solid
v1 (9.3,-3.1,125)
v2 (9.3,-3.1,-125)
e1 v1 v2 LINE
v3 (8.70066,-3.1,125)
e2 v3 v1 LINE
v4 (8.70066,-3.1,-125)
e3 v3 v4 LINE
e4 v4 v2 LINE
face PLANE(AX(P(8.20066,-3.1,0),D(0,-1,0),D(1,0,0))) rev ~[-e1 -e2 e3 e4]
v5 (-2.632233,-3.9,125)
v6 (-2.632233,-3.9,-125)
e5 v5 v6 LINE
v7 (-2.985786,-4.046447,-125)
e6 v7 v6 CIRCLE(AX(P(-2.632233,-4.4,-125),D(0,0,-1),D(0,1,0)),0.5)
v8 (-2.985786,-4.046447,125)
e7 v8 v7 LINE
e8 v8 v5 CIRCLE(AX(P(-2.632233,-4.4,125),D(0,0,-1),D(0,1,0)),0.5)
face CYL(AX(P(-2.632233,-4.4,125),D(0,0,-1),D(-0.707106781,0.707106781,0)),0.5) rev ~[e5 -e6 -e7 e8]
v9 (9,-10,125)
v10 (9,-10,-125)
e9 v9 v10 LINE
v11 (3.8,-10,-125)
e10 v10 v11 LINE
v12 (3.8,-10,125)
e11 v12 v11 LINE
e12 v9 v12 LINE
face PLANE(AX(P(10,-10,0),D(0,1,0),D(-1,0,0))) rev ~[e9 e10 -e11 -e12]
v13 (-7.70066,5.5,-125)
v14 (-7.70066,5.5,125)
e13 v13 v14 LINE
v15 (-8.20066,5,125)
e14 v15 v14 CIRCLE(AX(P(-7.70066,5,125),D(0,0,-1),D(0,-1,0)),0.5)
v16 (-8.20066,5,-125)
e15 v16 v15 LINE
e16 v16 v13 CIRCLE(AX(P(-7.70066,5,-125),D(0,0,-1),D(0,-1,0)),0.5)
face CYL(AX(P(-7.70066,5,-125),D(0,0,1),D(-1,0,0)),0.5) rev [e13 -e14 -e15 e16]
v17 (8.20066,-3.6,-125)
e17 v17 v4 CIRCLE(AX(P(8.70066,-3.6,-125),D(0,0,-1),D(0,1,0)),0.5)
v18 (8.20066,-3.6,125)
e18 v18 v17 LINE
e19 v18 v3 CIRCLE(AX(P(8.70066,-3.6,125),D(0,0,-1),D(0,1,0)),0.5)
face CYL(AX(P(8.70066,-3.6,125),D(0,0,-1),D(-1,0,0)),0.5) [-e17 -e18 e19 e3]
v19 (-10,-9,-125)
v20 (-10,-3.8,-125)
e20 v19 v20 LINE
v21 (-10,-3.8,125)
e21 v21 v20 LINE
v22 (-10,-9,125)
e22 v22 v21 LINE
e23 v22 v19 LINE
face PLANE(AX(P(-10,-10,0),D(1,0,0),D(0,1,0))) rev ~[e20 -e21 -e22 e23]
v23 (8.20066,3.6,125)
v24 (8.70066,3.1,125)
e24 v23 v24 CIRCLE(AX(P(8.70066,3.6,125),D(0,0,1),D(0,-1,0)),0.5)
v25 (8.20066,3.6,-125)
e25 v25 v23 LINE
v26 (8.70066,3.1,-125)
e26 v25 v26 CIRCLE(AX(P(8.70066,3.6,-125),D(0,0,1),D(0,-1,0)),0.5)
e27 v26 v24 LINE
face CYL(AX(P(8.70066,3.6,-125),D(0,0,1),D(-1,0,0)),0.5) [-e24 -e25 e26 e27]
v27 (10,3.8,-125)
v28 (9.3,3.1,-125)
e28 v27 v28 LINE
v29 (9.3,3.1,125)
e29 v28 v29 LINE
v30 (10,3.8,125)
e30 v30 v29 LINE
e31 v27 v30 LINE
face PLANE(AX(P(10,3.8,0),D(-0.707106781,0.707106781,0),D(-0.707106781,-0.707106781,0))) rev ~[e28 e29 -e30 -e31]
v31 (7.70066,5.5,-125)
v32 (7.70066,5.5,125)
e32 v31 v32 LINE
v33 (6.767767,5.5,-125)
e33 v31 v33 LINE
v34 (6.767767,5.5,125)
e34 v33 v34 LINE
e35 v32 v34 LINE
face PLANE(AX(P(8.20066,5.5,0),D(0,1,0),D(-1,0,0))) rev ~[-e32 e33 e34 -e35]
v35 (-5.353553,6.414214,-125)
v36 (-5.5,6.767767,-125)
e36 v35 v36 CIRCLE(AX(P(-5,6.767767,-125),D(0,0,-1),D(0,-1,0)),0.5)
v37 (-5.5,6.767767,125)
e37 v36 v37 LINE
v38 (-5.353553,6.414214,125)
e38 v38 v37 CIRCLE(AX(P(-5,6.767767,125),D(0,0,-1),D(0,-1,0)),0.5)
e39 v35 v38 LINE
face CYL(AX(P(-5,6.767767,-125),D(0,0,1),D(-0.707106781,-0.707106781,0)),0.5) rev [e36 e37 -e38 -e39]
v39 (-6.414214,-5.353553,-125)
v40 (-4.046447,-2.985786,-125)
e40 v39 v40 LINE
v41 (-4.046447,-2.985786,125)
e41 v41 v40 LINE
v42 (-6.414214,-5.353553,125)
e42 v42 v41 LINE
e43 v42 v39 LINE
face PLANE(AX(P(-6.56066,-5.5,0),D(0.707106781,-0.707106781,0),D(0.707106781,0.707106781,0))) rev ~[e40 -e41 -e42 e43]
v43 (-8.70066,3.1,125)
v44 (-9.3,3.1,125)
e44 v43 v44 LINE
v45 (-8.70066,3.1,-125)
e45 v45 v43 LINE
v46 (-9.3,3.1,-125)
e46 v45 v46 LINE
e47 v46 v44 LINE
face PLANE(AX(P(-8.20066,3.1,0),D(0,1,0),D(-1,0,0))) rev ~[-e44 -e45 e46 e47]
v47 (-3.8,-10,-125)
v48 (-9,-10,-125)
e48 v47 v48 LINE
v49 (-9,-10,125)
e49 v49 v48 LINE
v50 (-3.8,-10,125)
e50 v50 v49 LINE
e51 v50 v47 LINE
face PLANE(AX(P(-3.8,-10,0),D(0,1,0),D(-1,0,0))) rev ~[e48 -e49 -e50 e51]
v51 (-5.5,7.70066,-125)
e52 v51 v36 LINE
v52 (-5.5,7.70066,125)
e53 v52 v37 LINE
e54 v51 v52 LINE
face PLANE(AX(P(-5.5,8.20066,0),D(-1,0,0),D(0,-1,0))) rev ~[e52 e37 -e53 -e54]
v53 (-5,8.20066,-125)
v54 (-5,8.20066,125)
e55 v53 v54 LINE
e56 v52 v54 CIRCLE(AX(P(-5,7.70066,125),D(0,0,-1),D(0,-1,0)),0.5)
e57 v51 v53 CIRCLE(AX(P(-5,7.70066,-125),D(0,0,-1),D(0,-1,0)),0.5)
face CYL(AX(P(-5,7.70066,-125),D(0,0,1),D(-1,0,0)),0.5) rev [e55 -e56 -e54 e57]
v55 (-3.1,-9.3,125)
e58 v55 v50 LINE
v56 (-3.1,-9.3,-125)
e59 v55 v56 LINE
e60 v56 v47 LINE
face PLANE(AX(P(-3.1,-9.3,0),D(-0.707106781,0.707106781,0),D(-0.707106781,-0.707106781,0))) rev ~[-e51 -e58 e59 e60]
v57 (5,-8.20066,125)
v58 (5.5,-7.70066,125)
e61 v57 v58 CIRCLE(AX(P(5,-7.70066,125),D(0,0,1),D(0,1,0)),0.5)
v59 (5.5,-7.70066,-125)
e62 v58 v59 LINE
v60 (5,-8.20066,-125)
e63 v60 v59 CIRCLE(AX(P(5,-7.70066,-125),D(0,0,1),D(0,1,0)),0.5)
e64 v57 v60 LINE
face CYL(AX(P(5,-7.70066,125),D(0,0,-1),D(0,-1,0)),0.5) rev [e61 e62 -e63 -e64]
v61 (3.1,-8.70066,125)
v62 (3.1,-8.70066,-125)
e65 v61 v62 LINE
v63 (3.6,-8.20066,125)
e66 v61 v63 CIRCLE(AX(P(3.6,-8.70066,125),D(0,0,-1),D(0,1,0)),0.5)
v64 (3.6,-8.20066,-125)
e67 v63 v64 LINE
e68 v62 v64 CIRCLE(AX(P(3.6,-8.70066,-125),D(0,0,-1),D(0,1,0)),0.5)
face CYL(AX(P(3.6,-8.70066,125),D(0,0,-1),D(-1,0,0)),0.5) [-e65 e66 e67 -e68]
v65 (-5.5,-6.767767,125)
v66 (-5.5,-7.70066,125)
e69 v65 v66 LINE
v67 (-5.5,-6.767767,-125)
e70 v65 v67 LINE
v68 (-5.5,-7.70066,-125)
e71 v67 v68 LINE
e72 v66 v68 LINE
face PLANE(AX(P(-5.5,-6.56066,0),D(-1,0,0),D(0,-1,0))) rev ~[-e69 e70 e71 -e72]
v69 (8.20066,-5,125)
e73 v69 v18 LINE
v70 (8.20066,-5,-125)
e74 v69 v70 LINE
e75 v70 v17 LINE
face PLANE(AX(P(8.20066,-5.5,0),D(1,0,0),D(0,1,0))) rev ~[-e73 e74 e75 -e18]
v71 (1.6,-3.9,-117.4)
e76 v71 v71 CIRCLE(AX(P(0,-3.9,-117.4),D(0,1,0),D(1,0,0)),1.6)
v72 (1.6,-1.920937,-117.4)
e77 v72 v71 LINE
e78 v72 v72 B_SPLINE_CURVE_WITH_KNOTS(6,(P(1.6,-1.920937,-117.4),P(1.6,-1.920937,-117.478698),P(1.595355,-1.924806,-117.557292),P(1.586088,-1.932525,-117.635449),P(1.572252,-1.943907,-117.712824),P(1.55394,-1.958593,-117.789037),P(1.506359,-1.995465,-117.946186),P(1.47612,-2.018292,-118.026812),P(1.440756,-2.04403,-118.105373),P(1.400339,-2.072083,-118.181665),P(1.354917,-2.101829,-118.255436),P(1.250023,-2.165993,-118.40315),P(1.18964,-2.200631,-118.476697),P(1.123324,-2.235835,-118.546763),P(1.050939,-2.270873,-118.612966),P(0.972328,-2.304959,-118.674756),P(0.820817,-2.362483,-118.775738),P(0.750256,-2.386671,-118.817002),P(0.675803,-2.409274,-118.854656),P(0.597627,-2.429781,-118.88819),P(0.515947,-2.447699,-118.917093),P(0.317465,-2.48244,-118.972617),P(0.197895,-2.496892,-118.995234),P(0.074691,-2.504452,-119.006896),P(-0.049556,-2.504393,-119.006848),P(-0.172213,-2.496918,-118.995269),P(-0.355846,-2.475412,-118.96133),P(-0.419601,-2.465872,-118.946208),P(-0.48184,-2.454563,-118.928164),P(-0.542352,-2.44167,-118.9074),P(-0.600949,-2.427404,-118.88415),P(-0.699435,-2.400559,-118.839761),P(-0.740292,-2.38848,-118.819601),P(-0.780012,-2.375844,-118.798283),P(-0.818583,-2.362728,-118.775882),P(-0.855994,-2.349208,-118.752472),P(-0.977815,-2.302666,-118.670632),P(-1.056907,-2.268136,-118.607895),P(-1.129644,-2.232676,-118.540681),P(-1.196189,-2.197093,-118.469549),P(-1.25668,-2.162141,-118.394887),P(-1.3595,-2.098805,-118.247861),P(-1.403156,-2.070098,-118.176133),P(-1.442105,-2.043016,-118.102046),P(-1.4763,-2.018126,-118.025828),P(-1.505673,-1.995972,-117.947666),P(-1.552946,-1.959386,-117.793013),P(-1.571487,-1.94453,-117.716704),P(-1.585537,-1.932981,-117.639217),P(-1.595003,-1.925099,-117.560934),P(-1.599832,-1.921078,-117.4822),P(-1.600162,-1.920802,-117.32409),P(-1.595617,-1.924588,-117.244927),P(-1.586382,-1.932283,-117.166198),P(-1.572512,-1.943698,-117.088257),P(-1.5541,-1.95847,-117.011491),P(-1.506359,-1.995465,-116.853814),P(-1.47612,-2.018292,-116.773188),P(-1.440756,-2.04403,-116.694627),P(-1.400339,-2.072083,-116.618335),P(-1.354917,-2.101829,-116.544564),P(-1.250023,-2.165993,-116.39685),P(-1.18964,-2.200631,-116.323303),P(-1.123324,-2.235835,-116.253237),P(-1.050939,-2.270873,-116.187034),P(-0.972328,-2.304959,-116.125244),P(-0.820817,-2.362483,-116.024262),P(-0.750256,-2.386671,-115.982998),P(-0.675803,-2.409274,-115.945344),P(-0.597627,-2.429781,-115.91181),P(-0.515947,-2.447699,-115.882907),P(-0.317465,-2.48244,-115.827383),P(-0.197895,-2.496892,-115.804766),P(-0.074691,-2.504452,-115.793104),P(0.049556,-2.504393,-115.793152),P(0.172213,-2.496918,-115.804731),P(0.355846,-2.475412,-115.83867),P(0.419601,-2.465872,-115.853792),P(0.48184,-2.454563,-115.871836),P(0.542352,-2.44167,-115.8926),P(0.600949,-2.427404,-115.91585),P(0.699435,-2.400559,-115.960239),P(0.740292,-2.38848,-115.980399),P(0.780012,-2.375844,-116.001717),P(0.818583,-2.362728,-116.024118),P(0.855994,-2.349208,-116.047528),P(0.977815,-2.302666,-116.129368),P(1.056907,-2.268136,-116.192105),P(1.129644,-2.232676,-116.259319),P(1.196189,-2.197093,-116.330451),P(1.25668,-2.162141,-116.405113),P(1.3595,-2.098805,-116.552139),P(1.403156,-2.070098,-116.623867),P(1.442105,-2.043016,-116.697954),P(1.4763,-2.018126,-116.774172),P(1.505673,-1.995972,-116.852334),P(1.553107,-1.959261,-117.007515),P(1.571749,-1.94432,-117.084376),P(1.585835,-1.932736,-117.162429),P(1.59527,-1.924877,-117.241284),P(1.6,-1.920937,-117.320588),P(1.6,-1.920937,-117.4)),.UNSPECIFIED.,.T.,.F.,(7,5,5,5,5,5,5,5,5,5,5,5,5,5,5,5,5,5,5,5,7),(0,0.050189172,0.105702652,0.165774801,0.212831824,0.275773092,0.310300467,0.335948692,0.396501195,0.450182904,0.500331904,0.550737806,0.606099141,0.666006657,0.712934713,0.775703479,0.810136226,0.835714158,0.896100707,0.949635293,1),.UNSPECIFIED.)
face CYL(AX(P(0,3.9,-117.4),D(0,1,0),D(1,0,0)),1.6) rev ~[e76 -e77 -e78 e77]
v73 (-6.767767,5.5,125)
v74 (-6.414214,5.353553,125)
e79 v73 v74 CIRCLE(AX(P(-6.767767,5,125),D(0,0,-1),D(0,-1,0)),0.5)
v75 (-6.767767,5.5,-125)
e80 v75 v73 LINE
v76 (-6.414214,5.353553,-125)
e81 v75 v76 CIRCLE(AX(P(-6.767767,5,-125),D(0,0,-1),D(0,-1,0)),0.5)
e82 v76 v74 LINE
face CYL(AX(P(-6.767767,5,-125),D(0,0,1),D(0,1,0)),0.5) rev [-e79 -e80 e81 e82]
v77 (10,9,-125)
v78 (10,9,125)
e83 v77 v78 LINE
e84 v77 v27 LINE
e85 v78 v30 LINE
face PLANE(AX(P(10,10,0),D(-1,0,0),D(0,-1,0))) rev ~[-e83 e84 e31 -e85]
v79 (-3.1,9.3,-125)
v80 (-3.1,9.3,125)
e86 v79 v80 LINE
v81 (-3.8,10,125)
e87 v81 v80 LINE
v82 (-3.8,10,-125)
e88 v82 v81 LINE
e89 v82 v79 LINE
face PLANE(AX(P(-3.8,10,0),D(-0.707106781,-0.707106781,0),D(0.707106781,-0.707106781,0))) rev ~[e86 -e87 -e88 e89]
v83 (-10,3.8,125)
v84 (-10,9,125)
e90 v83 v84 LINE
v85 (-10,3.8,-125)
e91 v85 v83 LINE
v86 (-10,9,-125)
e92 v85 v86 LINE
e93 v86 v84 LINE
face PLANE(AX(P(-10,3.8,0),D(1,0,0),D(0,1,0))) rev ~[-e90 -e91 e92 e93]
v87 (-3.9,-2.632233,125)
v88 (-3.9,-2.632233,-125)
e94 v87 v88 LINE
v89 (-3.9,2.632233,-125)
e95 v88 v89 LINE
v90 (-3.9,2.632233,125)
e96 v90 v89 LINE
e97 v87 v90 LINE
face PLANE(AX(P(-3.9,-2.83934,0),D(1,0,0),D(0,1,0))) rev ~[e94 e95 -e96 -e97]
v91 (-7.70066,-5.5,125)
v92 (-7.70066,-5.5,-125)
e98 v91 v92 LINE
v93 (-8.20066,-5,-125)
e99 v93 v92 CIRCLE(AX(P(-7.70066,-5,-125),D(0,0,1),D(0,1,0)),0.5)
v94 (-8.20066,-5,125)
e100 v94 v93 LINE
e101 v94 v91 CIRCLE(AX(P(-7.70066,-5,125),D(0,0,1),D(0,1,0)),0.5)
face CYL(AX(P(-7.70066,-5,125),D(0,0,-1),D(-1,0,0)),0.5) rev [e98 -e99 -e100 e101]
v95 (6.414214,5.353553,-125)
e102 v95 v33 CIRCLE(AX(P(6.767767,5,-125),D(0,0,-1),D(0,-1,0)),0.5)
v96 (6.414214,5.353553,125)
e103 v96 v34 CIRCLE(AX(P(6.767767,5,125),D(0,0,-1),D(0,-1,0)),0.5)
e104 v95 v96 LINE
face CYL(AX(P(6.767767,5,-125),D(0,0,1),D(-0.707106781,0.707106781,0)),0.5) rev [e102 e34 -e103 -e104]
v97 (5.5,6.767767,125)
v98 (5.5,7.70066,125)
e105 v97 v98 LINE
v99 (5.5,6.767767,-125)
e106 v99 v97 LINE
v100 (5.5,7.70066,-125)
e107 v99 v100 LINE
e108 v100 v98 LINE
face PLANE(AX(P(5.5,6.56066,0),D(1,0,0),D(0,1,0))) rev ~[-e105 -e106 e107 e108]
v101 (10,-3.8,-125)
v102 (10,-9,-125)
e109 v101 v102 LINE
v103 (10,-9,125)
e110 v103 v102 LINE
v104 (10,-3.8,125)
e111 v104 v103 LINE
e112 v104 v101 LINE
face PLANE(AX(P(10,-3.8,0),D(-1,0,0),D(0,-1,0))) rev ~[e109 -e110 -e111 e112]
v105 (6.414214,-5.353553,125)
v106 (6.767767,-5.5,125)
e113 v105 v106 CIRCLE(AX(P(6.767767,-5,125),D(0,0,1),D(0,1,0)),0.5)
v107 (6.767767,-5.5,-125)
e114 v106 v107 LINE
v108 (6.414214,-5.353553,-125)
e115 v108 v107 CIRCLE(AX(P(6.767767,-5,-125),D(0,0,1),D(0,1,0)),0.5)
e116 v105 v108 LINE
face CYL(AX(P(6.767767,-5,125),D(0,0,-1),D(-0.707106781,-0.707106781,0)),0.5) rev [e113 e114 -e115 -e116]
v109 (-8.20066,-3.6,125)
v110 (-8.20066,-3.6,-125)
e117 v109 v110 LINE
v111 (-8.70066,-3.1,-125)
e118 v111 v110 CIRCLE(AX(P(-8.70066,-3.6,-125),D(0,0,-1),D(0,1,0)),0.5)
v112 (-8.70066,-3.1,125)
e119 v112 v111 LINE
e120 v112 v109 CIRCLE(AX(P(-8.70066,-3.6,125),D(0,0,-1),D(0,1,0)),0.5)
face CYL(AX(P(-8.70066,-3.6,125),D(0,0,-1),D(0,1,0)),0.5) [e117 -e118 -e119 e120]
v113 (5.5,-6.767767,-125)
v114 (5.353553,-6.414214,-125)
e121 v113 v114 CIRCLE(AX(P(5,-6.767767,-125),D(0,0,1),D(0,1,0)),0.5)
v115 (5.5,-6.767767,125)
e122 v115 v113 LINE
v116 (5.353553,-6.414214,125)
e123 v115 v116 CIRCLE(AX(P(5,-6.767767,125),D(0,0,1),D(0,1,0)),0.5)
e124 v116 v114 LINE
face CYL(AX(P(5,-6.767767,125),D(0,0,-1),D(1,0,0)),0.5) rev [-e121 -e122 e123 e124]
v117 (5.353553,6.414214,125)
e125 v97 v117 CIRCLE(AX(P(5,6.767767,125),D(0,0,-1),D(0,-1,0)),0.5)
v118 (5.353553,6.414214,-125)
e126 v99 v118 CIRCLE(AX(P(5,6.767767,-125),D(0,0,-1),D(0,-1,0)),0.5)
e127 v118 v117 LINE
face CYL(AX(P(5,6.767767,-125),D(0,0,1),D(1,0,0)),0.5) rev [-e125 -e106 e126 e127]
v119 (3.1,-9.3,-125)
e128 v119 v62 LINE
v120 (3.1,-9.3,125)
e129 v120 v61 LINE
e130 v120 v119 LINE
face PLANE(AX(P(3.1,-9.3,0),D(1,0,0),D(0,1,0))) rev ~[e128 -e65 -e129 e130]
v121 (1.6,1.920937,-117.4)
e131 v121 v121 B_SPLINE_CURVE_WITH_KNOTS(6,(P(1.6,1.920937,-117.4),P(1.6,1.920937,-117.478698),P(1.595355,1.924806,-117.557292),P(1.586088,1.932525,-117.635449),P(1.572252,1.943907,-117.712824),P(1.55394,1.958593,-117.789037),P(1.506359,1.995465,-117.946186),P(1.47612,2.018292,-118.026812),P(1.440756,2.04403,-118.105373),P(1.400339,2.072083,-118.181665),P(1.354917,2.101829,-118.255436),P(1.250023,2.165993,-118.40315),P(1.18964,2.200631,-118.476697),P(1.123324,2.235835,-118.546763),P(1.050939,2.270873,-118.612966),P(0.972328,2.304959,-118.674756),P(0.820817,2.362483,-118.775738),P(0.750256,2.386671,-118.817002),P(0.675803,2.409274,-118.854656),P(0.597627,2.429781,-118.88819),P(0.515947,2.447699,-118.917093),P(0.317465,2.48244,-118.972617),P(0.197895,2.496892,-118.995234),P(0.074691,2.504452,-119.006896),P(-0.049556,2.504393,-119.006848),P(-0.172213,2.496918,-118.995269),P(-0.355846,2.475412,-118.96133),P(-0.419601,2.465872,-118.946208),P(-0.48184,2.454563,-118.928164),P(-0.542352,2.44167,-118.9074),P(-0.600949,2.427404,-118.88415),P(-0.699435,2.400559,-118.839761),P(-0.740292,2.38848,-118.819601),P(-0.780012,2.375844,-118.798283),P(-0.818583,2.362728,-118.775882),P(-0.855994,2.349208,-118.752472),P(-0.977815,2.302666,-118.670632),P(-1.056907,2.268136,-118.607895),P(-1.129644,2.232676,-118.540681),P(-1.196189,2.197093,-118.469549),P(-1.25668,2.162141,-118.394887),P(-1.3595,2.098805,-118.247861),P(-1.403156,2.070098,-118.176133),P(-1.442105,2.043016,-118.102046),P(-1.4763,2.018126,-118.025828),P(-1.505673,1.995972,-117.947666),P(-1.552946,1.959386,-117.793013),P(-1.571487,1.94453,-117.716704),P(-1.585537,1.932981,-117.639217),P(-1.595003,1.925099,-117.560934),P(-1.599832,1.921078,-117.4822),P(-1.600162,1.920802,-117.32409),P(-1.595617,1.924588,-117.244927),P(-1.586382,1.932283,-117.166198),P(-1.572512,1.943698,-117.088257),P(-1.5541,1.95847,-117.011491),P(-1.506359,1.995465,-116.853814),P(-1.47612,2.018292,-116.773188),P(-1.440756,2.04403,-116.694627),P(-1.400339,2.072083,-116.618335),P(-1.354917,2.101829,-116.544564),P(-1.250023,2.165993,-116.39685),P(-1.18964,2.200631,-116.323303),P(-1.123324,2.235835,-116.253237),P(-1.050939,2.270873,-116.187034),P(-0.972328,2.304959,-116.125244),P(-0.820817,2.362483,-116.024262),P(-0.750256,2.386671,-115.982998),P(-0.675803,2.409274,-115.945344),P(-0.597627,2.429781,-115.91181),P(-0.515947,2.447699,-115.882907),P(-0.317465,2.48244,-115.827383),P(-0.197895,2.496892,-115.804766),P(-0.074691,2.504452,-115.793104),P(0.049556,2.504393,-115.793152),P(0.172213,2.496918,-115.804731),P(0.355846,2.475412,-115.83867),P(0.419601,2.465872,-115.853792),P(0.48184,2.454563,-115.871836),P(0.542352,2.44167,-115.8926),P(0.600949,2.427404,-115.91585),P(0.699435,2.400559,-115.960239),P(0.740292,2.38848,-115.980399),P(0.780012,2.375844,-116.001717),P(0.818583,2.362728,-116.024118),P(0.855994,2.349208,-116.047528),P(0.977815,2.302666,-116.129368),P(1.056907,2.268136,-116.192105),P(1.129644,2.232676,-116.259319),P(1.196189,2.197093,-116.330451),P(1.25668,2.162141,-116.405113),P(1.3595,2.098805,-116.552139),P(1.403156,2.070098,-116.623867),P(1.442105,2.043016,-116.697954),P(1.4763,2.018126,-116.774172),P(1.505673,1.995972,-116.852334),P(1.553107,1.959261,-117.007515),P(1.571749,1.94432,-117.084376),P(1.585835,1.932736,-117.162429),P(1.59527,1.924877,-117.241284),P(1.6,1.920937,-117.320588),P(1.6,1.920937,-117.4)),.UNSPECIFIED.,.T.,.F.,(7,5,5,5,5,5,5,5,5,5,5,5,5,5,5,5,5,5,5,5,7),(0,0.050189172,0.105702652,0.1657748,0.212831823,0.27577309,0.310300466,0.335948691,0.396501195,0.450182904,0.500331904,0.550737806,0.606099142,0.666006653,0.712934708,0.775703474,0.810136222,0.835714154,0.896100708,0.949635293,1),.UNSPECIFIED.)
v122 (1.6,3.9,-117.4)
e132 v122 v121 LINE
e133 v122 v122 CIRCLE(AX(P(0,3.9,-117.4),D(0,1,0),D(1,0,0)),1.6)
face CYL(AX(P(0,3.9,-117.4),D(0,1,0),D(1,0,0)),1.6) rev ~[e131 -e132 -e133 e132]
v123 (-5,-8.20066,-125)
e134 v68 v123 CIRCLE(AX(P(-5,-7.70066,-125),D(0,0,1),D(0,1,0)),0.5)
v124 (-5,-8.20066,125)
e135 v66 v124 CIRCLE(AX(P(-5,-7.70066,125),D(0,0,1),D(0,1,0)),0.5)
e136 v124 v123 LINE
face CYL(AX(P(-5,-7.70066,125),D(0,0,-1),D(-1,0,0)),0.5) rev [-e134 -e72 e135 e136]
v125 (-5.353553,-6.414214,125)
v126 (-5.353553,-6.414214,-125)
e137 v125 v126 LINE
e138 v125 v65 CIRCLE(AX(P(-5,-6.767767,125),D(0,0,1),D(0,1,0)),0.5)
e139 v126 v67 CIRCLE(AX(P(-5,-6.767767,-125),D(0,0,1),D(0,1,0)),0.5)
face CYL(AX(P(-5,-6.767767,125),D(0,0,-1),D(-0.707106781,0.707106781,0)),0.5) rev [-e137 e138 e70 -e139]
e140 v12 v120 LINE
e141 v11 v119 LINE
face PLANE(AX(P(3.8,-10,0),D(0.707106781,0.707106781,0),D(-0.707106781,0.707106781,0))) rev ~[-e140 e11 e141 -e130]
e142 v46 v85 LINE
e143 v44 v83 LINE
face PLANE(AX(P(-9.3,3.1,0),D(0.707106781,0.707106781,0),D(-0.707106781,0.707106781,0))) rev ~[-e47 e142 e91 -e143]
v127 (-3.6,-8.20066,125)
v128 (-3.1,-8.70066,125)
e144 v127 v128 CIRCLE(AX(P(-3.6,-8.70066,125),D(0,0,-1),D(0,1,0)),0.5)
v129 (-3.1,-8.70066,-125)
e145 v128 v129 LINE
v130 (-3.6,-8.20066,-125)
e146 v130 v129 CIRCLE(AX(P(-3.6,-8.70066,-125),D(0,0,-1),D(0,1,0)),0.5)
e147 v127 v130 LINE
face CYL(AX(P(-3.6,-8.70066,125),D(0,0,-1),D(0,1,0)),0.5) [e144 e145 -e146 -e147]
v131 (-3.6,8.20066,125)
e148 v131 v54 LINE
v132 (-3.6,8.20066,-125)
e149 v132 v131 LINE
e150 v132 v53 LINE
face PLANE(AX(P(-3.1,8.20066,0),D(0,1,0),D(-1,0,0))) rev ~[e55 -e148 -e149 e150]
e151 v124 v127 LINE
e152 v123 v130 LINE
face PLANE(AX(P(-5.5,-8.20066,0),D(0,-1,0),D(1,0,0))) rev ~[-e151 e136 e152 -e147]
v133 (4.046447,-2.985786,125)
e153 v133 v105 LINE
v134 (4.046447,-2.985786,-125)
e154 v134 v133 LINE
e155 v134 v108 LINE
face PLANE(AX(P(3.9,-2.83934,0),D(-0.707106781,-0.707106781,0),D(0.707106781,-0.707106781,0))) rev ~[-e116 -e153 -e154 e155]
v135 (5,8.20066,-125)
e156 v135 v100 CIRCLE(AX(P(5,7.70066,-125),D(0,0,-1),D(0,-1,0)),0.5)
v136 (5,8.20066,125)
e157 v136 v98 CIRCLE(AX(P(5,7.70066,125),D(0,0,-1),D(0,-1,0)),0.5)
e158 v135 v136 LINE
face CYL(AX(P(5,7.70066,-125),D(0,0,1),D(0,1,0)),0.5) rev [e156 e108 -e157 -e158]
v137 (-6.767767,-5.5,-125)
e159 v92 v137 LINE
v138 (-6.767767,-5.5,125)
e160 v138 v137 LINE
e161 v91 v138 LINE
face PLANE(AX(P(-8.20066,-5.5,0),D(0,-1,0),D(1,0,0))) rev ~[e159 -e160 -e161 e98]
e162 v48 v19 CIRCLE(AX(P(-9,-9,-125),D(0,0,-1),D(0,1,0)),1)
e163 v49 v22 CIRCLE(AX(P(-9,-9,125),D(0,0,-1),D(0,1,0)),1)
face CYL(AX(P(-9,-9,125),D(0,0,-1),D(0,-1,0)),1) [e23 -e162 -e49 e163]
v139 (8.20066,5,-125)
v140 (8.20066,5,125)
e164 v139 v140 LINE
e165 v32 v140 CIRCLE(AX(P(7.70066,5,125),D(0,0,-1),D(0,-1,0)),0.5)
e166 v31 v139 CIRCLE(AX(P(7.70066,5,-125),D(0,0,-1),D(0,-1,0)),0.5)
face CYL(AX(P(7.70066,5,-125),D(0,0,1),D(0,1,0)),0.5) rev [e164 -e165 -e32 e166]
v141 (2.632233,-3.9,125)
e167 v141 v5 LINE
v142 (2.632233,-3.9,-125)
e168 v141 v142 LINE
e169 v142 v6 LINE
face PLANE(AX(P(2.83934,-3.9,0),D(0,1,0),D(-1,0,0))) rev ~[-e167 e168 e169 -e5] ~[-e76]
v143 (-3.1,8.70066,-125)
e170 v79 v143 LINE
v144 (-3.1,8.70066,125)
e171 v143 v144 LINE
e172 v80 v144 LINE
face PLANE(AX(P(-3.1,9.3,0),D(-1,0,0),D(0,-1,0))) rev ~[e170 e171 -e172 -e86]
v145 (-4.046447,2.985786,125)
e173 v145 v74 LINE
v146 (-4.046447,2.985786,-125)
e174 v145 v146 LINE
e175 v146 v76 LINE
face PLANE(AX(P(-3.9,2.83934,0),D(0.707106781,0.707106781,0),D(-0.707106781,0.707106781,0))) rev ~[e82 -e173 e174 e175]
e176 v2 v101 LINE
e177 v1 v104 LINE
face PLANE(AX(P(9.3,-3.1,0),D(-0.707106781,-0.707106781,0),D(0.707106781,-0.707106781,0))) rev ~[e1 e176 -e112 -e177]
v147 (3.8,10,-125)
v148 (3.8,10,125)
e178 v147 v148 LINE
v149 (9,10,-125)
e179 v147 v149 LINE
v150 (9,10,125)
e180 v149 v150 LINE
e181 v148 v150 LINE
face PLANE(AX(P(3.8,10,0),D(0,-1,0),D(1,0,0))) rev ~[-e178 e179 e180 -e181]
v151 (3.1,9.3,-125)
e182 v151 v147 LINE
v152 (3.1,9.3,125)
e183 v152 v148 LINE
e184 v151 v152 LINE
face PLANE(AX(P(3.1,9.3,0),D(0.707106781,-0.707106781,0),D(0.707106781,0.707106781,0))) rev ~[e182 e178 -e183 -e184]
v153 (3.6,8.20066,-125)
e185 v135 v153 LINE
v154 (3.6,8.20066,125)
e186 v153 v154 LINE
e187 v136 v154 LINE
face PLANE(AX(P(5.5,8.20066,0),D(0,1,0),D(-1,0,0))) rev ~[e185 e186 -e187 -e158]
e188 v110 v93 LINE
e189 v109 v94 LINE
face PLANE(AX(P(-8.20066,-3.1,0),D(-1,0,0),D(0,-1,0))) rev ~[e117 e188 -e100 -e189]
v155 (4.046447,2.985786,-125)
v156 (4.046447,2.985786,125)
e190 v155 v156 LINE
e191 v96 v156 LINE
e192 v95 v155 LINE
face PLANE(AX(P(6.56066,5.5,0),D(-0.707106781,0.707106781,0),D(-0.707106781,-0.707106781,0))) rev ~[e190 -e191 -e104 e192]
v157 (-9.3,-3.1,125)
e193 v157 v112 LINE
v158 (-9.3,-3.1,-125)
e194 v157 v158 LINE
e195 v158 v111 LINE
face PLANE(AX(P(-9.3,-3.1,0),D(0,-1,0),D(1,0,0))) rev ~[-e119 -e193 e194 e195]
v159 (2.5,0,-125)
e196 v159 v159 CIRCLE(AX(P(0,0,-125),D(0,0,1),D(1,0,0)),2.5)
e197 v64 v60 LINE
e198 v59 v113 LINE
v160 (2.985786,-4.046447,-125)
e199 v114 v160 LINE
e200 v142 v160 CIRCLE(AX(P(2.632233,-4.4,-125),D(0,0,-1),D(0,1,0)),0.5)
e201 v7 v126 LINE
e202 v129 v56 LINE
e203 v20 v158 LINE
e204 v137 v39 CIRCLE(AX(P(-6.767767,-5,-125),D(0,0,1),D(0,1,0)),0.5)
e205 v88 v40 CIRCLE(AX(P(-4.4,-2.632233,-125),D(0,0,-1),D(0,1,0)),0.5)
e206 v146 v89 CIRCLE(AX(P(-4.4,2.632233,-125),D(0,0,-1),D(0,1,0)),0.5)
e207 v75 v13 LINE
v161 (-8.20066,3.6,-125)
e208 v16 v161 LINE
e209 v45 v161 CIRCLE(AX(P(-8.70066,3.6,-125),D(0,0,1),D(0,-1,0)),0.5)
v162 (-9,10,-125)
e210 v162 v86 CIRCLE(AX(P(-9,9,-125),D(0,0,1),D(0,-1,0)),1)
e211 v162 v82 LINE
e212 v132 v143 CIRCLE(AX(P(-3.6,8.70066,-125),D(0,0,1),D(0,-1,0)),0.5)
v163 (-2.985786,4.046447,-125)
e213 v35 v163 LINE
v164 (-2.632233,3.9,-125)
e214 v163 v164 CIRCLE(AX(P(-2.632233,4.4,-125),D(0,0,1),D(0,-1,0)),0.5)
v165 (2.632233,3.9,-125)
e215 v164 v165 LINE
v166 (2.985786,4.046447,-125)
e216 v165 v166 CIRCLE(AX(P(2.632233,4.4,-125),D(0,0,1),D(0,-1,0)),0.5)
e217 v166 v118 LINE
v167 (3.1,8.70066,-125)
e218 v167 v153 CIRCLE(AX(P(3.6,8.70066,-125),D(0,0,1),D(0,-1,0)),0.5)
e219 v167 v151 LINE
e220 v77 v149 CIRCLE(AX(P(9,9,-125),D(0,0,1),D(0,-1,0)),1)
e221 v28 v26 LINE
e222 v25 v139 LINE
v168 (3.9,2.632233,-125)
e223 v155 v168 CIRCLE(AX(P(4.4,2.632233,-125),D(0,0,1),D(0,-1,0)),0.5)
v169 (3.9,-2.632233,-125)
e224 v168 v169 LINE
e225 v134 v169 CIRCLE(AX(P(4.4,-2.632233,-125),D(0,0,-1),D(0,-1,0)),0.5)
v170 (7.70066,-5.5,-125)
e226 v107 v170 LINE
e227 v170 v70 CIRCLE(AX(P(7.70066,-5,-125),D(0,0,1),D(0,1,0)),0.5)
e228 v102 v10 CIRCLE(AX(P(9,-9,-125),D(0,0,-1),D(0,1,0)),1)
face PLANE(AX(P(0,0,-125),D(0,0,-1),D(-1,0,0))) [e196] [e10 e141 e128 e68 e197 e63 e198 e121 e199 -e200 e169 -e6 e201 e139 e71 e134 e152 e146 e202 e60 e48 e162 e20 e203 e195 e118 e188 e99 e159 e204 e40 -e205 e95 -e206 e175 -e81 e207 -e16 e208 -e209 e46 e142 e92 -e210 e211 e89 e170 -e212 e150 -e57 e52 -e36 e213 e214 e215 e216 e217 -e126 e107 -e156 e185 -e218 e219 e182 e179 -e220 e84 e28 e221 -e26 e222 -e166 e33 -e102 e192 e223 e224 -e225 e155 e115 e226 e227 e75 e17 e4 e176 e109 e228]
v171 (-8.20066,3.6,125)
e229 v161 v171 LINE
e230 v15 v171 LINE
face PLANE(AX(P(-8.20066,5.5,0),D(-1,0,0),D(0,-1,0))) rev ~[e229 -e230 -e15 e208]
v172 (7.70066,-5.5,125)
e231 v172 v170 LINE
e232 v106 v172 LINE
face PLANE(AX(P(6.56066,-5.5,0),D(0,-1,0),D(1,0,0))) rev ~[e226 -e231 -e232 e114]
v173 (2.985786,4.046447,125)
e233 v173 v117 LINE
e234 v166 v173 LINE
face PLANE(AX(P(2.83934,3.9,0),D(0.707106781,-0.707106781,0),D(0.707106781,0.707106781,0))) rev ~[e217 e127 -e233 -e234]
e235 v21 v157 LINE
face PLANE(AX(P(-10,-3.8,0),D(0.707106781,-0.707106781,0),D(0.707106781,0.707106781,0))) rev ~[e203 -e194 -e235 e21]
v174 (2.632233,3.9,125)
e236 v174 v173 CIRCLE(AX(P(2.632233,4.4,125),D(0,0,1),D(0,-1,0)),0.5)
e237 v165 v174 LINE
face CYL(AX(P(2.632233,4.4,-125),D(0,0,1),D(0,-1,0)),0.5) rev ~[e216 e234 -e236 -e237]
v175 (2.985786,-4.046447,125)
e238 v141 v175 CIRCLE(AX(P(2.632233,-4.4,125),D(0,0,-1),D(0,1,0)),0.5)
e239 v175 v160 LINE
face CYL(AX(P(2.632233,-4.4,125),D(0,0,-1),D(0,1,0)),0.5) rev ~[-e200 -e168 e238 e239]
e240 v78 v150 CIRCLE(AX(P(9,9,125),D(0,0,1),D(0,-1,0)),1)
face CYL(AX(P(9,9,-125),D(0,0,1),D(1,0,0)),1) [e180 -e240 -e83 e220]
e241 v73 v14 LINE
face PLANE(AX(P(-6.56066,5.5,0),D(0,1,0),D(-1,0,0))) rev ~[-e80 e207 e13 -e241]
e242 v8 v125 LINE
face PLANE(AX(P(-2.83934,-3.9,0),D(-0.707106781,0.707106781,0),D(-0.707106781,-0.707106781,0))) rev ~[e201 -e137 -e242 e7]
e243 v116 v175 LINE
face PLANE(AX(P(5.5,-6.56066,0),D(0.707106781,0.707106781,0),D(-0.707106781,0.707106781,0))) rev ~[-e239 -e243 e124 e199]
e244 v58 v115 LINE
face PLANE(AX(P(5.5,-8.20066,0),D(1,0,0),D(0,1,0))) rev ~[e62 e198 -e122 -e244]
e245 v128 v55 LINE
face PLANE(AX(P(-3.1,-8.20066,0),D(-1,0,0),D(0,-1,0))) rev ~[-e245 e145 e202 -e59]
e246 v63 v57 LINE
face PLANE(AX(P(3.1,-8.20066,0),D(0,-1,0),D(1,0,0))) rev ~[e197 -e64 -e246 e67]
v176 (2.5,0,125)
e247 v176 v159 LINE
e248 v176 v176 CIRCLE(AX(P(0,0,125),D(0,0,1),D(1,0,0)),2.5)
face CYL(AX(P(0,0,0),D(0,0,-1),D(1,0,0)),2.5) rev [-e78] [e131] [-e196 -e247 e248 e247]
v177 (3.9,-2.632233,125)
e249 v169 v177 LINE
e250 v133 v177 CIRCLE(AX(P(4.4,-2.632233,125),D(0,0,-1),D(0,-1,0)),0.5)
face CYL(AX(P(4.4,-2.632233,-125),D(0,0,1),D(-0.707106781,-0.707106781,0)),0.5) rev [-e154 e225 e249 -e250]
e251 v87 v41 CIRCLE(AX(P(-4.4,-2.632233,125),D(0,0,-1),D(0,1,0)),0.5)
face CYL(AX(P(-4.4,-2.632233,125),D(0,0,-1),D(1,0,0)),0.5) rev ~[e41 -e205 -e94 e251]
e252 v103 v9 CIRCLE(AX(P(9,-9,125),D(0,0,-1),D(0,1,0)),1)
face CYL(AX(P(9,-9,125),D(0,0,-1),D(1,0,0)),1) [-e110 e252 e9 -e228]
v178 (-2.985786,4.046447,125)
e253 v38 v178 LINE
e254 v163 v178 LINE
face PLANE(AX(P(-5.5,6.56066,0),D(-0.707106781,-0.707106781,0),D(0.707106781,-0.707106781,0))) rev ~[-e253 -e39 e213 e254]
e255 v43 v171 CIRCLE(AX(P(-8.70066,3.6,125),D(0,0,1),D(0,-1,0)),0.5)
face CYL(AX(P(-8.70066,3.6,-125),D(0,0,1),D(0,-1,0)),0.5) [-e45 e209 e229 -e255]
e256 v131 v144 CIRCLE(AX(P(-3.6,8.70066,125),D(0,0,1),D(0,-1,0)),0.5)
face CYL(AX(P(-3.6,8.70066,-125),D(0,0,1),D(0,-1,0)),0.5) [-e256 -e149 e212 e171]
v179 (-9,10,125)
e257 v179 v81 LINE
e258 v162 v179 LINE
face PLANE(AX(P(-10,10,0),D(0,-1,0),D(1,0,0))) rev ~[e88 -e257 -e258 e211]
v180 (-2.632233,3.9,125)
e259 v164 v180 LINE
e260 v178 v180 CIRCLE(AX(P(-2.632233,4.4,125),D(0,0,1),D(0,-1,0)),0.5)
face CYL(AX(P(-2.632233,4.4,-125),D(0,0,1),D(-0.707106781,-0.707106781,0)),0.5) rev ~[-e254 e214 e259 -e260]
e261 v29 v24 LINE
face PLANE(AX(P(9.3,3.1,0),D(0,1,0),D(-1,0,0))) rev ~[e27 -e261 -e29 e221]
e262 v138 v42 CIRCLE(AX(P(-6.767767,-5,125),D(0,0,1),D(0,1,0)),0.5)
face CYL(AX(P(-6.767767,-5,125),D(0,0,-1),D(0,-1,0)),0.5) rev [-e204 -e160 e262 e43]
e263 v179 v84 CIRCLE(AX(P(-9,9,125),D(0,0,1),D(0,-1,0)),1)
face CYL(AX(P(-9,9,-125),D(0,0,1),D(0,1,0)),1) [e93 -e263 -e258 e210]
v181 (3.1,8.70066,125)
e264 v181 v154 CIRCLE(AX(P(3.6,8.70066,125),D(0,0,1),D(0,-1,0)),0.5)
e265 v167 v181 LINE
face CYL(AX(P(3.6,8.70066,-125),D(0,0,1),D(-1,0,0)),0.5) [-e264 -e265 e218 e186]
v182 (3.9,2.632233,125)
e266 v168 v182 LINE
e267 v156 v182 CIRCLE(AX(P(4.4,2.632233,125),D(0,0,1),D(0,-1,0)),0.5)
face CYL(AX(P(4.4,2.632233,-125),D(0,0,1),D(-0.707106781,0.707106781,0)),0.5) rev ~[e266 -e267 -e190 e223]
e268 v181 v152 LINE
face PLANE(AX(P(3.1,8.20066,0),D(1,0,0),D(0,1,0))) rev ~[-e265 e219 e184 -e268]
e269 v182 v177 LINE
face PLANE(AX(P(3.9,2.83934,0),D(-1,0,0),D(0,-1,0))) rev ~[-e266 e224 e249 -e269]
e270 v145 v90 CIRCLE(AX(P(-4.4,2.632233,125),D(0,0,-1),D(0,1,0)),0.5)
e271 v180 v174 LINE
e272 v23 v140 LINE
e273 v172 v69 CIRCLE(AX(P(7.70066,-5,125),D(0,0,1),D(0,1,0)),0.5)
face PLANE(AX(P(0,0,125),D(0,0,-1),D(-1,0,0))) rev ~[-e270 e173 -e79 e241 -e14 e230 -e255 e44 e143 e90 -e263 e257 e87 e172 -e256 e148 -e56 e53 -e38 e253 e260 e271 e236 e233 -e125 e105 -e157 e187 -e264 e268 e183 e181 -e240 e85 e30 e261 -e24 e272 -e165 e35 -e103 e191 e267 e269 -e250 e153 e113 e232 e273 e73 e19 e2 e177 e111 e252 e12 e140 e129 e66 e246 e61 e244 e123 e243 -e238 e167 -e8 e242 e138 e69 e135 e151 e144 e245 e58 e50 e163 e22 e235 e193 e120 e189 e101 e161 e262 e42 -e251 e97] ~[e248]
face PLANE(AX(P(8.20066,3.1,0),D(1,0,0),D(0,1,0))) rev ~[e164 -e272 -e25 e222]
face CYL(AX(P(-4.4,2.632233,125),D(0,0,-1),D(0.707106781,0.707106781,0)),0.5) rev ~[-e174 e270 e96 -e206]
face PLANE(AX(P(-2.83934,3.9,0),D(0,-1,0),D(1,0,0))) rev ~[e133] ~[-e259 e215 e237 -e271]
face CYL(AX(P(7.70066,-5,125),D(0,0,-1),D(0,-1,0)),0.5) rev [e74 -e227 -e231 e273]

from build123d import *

# Parameters (mm, degrees)
SKETCH1_R           = 2.5
BOSS_EXTRUDE1_DEPTH = 125
FILLET1_R           = 0.5
FILLET2_R           = 0.5
FILLET3_R           = 1
SKETCH2_R           = 1.6
CUT_EXTRUDE1_DEPTH  = 14.9


with BuildPart() as part:
    # Sketch1 → Boss-Extrude1 (new body, symmetric)
    with BuildSketch(Plane.XY):
        Polygon((3.9, -2.839339828), (6.560660172, -5.5), (8.200660172, -5.5), (8.200660172, -3.1), (9.3, -3.1), (10, -3.8), (10, -10), (3.8, -10), (3.1, -9.3), (3.1, -8.200660172), (5.5, -8.200660172), (5.5, -6.560660172), (2.839339828, -3.9), (-2.839339828, -3.9), (-5.5, -6.560660172), (-5.5, -8.200660172), (-3.1, -8.200660172), (-3.1, -9.3), (-3.8, -10), (-10, -10), (-10, -3.8), (-9.3, -3.1), (-8.200660172, -3.1), (-8.200660172, -5.5), (-6.560660172, -5.5), (-3.9, -2.839339828), (-3.9, 2.839339828), (-6.560660172, 5.5), (-8.200660172, 5.5), (-8.200660172, 3.1), (-9.3, 3.1), (-10, 3.8), (-10, 10), (-3.8, 10), (-3.1, 9.3), (-3.1, 8.200660172), (-5.5, 8.200660172), (-5.5, 6.560660172), (-2.839339828, 3.9), (2.839339828, 3.9), (5.5, 6.560660172), (5.5, 8.200660172), (3.1, 8.200660172), (3.1, 9.3), (3.8, 10), (10, 10), (10, 3.8), (9.3, 3.1), (8.200660172, 3.1), (8.200660172, 5.5), (6.560660172, 5.5), (3.9, 2.839339828), align=None)
        Circle(SKETCH1_R, mode=Mode.SUBTRACT)
    extrude(amount=BOSS_EXTRUDE1_DEPTH, both=True)

    # Fillet1
    fillet1_edges = [part.edges().sort_by_distance(p)[0] for p in [
        (-2.839339828, 3.9, 0),
        (2.839339828, 3.9, 0),
        (3.9, 2.839339828, 0),
        (3.9, -2.839339828, 0),
        (2.839339828, -3.9, 0),
        (-2.839339828, -3.9, 0),
        (-3.9, -2.839339828, 0),
        (-3.9, 2.839339828, 0),
    ]]
    fillet(fillet1_edges, radius=FILLET1_R)

    # Fillet2
    fillet2_edges = [part.edges().sort_by_distance(p)[0] for p in [
        (-5.5, 6.560660172, 0),
        (5.5, 6.560660172, 0),
        (5.5, 8.200660172, 0),
        (3.1, 8.200660172, 0),
        (8.200660172, 3.1, 0),
        (8.200660172, 5.5, 0),
        (6.560660172, 5.5, 0),
        (6.560660172, -5.5, 0),
        (8.200660172, -5.5, 0),
        (8.200660172, -3.1, 0),
        (3.1, -8.200660172, 0),
        (5.5, -8.200660172, 0),
        (5.5, -6.560660172, 0),
        (-5.5, -6.560660172, 0),
        (-5.5, -8.200660172, 0),
        (-3.1, -8.200660172, 0),
        (-8.200660172, -3.1, 0),
        (-8.200660172, -5.5, 0),
        (-6.560660172, -5.5, 0),
        (-6.560660172, 5.5, 0),
        (-8.200660172, 5.5, 0),
        (-8.200660172, 3.1, 0),
        (-3.1, 8.200660172, 0),
        (-5.5, 8.200660172, 0),
    ]]
    fillet(fillet2_edges, radius=FILLET2_R)

    # Fillet3
    fillet3_edges = [part.edges().sort_by_distance(p)[0] for p in [
        (10, 10, 0),
        (10, -10, 0),
        (-10, -10, 0),
        (-10, 10, 0),
    ]]
    fillet(fillet3_edges, radius=FILLET3_R)

    # Sketch2 → Cut-Extrude1 (cut, through all)
    with BuildSketch(Plane(origin=(0, 3.9, 0), x_dir=(1, 0, 0), z_dir=(0, 1, 0))):
        with Locations((0, 117.4)):
            Circle(SKETCH2_R)
    extrude(amount=-CUT_EXTRUDE1_DEPTH, mode=Mode.SUBTRACT)


solid = part.part
